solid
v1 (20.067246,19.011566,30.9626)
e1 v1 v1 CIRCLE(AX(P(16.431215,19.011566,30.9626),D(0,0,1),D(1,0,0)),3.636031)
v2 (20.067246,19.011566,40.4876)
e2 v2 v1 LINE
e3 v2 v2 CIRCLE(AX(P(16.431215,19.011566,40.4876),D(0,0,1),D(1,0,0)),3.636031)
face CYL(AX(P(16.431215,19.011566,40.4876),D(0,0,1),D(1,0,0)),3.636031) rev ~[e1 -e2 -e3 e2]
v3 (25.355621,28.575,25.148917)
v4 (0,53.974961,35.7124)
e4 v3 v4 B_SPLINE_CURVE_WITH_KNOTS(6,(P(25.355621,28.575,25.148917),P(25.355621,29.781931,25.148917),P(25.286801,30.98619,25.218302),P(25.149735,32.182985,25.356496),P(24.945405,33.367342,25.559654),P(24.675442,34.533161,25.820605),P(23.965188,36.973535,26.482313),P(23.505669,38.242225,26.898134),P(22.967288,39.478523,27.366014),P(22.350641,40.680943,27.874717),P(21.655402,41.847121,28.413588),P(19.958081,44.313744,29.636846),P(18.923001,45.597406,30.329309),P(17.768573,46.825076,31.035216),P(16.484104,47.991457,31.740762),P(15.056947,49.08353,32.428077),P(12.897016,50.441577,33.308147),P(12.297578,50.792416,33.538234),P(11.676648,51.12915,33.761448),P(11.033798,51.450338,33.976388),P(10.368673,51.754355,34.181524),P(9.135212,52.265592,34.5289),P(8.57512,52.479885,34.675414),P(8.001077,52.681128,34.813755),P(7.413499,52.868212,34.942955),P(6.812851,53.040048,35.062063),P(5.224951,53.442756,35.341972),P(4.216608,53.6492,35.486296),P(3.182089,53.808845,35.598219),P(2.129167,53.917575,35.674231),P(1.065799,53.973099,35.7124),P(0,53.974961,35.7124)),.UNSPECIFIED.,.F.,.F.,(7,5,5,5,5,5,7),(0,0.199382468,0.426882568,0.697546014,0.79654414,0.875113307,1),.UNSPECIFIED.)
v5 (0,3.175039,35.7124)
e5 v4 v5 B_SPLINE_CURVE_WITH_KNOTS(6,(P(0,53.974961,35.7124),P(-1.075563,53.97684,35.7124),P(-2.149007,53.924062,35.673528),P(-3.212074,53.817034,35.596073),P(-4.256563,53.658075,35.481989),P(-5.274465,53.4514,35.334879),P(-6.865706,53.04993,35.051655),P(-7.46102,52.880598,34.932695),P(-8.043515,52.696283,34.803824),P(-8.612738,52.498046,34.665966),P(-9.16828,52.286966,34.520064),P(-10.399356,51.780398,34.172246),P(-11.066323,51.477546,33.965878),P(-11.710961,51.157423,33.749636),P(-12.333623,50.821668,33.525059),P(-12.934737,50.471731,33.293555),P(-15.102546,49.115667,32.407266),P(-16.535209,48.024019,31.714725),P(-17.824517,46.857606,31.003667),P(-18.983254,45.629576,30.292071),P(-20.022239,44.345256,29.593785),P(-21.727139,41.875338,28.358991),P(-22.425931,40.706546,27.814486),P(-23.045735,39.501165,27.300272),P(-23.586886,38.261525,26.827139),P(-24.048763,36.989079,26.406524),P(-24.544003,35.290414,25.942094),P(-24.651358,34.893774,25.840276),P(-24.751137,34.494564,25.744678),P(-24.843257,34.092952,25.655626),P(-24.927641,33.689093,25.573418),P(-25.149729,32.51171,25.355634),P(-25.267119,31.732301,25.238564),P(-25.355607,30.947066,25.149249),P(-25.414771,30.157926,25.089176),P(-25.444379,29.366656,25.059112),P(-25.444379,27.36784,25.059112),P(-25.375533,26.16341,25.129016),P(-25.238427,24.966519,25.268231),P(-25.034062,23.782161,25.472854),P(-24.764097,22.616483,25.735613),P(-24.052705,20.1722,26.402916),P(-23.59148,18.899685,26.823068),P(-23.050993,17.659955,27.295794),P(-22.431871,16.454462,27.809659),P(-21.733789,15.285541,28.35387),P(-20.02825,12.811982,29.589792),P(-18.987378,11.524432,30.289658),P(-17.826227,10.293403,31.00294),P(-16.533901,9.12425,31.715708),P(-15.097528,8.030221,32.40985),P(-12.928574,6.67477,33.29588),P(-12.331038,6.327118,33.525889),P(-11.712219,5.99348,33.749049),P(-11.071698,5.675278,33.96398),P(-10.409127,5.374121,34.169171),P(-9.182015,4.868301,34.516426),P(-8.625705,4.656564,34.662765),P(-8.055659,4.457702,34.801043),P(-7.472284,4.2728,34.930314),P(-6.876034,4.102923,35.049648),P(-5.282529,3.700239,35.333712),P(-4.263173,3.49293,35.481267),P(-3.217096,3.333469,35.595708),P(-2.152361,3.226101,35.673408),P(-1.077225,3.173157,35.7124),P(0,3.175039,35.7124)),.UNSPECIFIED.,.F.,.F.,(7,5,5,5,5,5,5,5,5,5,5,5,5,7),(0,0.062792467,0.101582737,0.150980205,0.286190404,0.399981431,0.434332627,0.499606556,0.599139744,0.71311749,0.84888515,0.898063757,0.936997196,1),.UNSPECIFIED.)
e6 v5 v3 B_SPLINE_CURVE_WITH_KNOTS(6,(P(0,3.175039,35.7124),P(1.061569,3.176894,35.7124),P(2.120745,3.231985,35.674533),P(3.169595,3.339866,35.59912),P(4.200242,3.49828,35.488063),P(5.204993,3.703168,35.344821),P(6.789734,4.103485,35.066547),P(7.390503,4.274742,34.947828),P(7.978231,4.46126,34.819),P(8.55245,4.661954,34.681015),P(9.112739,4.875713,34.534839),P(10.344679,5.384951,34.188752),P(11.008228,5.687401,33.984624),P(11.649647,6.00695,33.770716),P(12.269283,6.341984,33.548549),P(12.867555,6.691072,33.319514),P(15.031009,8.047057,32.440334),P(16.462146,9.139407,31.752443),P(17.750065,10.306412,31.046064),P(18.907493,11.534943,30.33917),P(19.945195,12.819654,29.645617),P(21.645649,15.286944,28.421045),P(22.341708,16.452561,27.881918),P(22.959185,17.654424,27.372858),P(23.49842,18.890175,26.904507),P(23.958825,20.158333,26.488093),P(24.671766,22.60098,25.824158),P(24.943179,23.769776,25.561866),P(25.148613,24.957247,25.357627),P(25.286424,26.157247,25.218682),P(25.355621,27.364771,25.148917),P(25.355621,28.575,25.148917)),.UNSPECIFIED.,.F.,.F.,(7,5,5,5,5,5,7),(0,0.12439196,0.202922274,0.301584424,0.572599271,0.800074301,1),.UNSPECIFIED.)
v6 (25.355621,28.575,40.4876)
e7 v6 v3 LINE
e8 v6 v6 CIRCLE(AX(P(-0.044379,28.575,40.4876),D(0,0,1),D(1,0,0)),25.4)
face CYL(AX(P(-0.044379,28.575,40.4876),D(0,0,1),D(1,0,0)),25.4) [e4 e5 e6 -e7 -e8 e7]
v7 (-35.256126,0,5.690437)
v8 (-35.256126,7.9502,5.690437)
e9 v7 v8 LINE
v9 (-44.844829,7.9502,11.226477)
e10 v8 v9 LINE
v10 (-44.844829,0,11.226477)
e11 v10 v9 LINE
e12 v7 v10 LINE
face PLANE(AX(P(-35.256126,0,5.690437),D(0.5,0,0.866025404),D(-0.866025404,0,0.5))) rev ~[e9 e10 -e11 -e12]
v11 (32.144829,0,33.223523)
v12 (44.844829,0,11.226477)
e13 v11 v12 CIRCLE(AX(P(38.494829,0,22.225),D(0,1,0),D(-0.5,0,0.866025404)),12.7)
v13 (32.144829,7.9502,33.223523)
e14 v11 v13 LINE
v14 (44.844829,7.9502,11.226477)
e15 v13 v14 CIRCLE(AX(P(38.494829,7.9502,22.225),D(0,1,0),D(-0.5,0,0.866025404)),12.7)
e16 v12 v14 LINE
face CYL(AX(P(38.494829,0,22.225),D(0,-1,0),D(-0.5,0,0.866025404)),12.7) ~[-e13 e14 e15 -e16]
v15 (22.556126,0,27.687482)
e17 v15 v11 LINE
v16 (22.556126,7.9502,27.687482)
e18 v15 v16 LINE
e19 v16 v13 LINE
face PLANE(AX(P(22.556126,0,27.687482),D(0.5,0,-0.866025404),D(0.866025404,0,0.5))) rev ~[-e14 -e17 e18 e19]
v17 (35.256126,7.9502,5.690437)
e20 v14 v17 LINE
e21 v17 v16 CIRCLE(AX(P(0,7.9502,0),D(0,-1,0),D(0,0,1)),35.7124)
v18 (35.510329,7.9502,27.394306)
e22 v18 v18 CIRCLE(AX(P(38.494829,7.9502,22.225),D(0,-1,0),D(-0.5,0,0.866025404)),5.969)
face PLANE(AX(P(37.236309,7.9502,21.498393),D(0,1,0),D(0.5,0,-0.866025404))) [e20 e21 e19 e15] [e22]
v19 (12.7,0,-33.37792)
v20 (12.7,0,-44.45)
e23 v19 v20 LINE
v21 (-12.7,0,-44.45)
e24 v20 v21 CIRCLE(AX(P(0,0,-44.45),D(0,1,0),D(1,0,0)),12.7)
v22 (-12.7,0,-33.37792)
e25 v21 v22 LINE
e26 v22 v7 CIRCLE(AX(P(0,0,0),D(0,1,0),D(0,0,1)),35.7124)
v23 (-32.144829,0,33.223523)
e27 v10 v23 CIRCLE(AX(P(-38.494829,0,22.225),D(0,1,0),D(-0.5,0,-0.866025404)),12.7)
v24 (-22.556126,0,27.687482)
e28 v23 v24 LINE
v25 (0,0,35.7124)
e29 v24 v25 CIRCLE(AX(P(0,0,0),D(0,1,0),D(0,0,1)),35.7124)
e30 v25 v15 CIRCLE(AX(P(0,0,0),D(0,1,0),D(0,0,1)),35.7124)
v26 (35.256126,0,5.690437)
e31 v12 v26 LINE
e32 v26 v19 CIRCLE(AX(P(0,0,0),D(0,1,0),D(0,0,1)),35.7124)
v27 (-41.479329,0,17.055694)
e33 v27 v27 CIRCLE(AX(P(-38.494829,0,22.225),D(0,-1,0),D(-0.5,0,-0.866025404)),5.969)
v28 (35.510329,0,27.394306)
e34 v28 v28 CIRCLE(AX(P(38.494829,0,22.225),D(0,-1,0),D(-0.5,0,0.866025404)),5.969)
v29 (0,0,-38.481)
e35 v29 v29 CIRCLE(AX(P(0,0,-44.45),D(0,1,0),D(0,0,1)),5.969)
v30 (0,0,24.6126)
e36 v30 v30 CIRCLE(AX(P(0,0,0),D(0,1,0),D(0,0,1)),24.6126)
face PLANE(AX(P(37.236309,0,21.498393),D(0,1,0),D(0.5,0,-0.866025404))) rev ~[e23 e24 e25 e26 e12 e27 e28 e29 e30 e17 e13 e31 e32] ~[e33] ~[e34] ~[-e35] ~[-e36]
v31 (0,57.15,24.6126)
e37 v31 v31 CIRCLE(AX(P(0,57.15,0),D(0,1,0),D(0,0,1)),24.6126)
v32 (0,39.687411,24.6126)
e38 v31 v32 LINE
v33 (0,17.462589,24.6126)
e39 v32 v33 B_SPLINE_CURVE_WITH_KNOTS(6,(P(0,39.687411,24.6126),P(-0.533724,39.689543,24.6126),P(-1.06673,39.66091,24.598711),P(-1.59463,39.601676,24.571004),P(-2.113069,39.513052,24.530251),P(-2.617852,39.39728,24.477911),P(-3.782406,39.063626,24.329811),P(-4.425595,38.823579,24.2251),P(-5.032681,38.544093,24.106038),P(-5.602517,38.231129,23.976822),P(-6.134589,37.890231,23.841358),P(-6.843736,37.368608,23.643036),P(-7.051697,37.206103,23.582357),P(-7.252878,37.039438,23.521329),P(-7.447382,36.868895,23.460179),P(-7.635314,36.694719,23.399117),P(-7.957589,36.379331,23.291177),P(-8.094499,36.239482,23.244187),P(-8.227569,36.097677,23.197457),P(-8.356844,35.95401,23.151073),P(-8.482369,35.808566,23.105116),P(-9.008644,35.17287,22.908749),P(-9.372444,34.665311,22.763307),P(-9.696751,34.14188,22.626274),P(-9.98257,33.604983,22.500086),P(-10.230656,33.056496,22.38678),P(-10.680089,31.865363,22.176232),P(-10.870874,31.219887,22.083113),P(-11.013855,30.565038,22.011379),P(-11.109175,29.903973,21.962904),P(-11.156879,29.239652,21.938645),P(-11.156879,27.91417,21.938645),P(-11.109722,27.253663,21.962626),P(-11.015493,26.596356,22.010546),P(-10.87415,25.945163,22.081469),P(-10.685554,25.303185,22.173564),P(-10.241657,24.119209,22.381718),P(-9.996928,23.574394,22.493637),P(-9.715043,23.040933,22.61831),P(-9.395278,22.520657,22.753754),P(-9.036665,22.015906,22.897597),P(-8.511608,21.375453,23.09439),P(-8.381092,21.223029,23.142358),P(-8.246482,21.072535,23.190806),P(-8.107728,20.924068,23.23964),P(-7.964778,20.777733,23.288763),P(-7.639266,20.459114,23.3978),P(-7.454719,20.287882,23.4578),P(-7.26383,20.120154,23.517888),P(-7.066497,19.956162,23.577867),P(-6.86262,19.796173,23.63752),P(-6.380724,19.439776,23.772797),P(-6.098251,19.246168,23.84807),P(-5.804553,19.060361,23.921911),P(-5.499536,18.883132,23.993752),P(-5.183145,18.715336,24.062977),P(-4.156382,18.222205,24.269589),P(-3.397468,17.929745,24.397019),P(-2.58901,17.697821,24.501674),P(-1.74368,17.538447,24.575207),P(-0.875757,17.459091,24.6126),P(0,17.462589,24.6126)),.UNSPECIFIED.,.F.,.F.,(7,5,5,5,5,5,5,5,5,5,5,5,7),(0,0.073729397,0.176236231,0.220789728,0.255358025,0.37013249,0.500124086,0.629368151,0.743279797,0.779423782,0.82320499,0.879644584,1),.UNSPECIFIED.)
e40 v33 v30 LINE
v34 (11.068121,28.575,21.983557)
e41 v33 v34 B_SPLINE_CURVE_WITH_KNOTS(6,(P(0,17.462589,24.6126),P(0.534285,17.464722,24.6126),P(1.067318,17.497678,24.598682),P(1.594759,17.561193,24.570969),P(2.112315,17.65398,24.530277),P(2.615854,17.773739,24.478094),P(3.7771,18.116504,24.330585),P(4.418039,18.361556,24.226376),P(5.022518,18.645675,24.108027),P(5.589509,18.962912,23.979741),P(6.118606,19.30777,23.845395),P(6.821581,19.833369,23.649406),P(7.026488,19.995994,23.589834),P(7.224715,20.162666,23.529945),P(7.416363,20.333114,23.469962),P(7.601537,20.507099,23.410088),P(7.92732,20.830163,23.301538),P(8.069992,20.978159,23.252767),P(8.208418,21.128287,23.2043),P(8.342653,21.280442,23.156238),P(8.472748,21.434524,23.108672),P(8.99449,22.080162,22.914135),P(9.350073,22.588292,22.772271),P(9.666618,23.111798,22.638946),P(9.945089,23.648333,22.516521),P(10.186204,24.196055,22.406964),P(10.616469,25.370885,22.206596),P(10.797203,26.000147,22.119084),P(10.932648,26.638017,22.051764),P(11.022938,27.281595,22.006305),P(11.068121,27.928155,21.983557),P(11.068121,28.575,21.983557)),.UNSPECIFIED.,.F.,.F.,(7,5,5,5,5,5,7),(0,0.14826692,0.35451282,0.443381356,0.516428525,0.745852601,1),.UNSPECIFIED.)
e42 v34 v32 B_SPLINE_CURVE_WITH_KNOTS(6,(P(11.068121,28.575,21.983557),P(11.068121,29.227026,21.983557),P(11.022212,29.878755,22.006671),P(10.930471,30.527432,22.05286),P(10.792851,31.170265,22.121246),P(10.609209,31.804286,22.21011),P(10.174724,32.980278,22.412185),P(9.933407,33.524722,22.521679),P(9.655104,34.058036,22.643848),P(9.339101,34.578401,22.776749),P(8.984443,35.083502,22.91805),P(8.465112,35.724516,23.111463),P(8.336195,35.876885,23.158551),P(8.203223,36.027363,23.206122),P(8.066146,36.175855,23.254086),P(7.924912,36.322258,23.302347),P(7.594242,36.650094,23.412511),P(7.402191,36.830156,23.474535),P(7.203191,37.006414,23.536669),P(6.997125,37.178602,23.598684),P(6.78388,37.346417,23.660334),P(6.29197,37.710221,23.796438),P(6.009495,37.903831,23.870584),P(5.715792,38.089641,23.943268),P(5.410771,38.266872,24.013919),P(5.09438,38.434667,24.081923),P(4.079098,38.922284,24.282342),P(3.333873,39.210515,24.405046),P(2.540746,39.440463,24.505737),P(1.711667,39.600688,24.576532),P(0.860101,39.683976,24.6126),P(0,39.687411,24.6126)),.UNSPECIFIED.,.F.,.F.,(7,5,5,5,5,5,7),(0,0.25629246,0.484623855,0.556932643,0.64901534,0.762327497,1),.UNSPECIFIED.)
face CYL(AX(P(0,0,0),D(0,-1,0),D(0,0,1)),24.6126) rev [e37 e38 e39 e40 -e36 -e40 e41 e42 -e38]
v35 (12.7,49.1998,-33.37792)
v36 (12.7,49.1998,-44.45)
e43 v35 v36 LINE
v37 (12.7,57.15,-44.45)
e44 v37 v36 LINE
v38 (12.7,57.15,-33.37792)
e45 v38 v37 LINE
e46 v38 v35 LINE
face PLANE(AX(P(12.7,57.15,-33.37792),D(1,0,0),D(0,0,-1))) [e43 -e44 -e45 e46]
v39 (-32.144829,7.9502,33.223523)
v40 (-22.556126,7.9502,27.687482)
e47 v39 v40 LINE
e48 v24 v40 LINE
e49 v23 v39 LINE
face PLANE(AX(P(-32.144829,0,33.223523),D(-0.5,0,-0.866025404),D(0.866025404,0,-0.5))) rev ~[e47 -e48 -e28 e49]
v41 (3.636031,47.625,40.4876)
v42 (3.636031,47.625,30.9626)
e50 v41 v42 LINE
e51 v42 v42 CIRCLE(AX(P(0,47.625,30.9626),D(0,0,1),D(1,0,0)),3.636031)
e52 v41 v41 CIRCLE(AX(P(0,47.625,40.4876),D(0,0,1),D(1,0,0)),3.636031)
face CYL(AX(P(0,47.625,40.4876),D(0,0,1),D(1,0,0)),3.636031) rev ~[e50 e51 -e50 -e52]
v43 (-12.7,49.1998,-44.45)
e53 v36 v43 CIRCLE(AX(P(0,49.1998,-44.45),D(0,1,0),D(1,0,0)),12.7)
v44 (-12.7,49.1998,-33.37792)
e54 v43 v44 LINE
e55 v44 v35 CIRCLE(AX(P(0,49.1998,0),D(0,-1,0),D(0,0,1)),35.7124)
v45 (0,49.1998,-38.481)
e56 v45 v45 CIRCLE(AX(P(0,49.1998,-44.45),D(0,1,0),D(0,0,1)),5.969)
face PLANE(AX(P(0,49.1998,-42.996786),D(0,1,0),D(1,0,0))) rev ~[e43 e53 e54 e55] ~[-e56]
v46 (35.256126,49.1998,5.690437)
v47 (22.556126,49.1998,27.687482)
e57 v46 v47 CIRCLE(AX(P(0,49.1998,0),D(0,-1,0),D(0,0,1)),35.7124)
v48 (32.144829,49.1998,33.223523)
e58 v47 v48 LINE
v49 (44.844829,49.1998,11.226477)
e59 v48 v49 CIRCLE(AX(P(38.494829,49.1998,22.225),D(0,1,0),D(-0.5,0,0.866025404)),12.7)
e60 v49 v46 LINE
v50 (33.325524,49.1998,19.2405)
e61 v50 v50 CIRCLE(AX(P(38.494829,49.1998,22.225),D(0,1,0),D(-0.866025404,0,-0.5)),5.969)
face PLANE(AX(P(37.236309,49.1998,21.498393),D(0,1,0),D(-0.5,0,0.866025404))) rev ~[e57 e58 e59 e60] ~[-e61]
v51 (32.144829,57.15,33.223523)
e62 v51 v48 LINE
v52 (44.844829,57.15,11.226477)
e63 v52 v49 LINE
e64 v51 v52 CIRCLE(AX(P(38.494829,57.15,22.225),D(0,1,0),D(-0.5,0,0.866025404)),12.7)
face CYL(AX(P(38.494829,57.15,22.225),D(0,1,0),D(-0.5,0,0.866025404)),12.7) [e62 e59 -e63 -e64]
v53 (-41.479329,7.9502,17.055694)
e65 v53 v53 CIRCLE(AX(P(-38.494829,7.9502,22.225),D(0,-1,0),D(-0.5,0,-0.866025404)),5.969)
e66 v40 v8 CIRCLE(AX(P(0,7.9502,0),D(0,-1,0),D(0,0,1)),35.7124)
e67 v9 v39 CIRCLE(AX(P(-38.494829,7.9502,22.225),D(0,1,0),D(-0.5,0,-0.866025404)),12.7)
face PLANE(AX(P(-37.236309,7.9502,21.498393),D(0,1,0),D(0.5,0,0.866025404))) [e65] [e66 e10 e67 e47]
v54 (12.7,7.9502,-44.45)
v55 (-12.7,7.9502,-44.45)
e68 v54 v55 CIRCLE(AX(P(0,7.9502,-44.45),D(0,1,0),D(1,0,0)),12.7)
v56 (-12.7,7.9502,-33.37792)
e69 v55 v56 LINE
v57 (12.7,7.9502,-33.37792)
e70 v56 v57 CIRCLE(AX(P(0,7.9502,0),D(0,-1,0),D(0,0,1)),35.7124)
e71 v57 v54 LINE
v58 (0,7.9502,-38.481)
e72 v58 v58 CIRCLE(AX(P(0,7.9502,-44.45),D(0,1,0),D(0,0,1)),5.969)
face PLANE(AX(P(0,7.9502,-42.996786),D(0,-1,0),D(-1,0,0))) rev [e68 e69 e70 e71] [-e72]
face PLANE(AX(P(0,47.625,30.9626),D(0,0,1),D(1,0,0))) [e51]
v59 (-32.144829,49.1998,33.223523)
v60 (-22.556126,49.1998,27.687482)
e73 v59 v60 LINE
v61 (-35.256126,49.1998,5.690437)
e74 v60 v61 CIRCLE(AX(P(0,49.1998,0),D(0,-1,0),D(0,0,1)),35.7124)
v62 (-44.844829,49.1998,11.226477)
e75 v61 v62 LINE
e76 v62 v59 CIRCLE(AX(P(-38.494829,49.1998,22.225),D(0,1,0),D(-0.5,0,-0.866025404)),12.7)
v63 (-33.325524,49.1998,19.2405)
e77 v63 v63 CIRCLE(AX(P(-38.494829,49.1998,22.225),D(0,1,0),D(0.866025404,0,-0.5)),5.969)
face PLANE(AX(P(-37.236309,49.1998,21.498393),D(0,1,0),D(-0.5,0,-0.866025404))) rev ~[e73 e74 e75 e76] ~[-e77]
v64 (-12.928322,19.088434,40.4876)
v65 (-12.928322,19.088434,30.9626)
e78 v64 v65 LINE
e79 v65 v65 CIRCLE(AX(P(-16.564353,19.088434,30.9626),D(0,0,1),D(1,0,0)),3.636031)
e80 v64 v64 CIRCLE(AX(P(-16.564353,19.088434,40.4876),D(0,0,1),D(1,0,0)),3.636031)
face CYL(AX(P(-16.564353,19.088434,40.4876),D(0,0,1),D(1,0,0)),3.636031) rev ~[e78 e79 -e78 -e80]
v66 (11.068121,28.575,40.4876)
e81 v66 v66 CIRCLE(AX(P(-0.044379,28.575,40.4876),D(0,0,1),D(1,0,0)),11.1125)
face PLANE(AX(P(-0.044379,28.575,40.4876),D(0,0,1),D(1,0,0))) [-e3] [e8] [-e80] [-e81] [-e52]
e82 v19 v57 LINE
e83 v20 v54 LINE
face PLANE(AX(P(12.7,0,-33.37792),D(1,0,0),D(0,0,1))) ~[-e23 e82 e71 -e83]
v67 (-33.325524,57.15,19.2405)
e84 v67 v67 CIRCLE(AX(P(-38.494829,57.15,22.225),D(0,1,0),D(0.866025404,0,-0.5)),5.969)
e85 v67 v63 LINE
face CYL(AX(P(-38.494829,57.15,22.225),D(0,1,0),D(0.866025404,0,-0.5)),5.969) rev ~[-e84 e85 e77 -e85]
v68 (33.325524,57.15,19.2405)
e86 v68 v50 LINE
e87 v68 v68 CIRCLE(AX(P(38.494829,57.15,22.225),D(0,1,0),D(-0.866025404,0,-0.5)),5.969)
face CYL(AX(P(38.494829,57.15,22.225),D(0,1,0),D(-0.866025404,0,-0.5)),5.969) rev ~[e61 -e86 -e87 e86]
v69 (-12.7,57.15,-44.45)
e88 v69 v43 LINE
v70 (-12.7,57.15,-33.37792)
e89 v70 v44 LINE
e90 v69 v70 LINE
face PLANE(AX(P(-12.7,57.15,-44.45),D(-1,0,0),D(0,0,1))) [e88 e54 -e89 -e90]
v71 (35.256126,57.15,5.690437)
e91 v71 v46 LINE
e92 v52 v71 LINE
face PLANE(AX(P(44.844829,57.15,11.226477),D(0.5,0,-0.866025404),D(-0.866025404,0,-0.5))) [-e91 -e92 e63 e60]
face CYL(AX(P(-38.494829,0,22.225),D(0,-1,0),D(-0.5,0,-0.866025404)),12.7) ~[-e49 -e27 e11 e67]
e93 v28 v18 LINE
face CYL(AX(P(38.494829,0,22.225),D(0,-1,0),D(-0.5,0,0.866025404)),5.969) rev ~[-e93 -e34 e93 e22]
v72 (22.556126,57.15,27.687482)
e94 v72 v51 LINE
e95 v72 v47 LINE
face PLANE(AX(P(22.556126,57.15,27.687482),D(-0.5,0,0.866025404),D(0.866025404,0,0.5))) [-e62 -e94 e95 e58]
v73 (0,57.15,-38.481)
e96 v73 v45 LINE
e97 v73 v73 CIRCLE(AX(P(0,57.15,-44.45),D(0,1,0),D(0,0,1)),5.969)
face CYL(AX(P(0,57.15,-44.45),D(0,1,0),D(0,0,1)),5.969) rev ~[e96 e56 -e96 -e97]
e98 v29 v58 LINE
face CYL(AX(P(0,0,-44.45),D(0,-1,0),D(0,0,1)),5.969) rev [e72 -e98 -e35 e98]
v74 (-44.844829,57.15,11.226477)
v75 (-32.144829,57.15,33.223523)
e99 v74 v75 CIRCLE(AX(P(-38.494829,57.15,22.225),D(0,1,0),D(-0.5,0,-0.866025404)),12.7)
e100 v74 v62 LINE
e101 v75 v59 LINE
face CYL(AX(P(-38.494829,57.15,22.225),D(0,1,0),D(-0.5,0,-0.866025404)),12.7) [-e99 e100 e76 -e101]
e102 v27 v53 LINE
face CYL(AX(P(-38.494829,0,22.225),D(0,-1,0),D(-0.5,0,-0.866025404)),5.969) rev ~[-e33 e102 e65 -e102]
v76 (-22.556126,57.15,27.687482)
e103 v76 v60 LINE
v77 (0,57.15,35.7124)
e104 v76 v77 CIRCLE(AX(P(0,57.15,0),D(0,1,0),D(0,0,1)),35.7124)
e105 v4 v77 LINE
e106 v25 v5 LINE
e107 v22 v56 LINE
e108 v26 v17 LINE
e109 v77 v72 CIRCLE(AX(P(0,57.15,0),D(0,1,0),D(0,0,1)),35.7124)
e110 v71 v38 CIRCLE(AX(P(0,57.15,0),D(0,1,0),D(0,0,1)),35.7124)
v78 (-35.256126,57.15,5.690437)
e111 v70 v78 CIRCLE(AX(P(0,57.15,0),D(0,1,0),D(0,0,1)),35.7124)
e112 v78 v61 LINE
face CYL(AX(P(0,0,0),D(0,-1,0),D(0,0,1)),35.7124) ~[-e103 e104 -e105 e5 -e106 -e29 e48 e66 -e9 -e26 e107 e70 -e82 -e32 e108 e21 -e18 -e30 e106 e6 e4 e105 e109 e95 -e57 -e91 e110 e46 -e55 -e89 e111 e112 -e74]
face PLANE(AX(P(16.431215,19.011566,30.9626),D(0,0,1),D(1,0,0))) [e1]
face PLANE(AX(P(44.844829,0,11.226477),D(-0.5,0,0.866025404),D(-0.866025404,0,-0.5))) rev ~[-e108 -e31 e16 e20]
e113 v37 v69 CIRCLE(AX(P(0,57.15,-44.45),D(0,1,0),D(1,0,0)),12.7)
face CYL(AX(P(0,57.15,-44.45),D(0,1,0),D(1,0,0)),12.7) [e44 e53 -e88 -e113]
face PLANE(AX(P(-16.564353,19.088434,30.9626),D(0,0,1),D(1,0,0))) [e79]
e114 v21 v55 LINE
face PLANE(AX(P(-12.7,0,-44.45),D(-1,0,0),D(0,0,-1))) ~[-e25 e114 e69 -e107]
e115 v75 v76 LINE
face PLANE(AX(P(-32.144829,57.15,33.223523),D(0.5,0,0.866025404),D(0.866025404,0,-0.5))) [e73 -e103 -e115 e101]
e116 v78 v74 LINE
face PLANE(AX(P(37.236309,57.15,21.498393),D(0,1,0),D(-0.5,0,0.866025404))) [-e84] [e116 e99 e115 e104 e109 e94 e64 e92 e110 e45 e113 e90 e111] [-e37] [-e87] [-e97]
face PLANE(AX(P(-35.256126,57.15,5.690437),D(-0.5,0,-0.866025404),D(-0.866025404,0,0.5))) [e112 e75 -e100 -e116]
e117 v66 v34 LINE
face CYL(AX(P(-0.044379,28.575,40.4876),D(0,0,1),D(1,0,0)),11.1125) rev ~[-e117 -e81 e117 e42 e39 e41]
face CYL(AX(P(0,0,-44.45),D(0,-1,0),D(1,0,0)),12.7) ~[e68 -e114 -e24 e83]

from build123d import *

# Parameters (mm, degrees)
SKETCH1_R               = 35.7124
SKETCH1_R_2             = 24.6126
BOSS_EXTRUDE1_DEPTH     = 57.15
SKETCH2_R               = 5.969
BOSS_EXTRUDE2_DEPTH     = 7.9502
CIRPATTERN1_COUNT       = 3
MIRROR1_COPY_1_SKETCH_R = 5.969
MIRROR1_COPY_1_DEPTH    = 7.9502
MIRROR1_COPY_2_SKETCH_R = 5.969
MIRROR1_COPY_2_DEPTH    = 7.9502
SKETCH3_R               = 25.4
BOSS_EXTRUDE3_DEPTH     = 19.05
CUT_EXTRUDE1_START      = -57.15
SKETCH4_R               = 24.6126
CUT_EXTRUDE1_DEPTH      = 57.15
SKETCH6_R               = 11.1125
CUT_EXTRUDE2_DEPTH      = 57.15
SKETCH7_R               = 3.636030774
CUT_EXTRUDE3_DEPTH      = 9.525


with BuildPart() as part:
    # Sketch1 → Boss-Extrude1 (new body)
    with BuildSketch(Plane(origin=(0, 0, 0), x_dir=(1, 0, 0), z_dir=(0, 1, 0))):
        with Locations(Location((0, 0, 0), (0, 0, 270))):
            Circle(SKETCH1_R)
        with Locations(Location((0, 0, 0), (0, 0, 270))):
            Circle(SKETCH1_R_2, mode=Mode.SUBTRACT)
    extrude(amount=BOSS_EXTRUDE1_DEPTH)

    # Sketch2 → Boss-Extrude2 (add)
    with BuildSketch(Plane(origin=(0, 57.15, 0), x_dir=(1, 0, 0), z_dir=(0, 1, 0))):
        with BuildLine():
            Line((-12.7, 44.45), (-12.7, 33.377919554))
            Line((-12.7, 33.377919554), (12.7, 33.377919554))
            Line((12.7, 33.377919554), (12.7, 44.45))
            ThreePointArc((12.7, 44.45), (0, 57.15), (-12.7, 44.45))
        make_face()
        with Locations(Location((0, 44.45, 0), (0, 0, 270))):
            Circle(SKETCH2_R, mode=Mode.SUBTRACT)
    boss_extrude2 = extrude(amount=-BOSS_EXTRUDE2_DEPTH)

    # CirPattern1: Boss-Extrude2 ×3 about axis
    cirpattern1_axis = Axis((0, 0, 0), (0, 1, 0))
    for i in range(1, CIRPATTERN1_COUNT):
        add(boss_extrude2.rotate(cirpattern1_axis, i * 360 / CIRPATTERN1_COUNT))

    # Mirror1: Boss-Extrude2 across plane
    add(boss_extrude2.mirror(Plane.ZX.offset(28.575)))

    # Mirror1 copy 1 sketch → Mirror1 copy 1 (add)
    with BuildSketch(Plane(origin=(0, 0, 0), x_dir=(-0.4999999999999998, 0, -0.8660254037844387), z_dir=(0, -1, 0))):
        with BuildLine():
            Line((-12.7, -44.45), (-12.7, -33.377919554))
            Line((-12.7, -33.377919554), (12.7, -33.377919554))
            Line((12.7, -33.377919554), (12.7, -44.45))
            ThreePointArc((12.7, -44.45), (0, -57.15), (-12.7, -44.45))
        make_face()
        with Locations((0, -44.45)):
            Circle(MIRROR1_COPY_1_SKETCH_R, mode=Mode.SUBTRACT)
    extrude(amount=-MIRROR1_COPY_1_DEPTH)

    # Mirror1 copy 2 sketch → Mirror1 copy 2 (add)
    with BuildSketch(Plane(origin=(0, 0, 0), x_dir=(-0.5000000000000004, 0, 0.8660254037844384), z_dir=(0, -1, 0))):
        with BuildLine():
            Line((-12.7, -44.45), (-12.7, -33.377919554))
            Line((-12.7, -33.377919554), (12.7, -33.377919554))
            Line((12.7, -33.377919554), (12.7, -44.45))
            ThreePointArc((12.7, -44.45), (0, -57.15), (-12.7, -44.45))
        make_face()
        with Locations((0, -44.45)):
            Circle(MIRROR1_COPY_2_SKETCH_R, mode=Mode.SUBTRACT)
    extrude(amount=-MIRROR1_COPY_2_DEPTH)

    # Sketch3 → Boss-Extrude3 (add)
    with BuildSketch(Plane.XY.offset(40.4876)):
        with Locations((-0.044379285, 28.575)):
            Circle(SKETCH3_R)
    extrude(amount=-BOSS_EXTRUDE3_DEPTH)

    # Sketch4 → Cut-Extrude1 (cut)
    with BuildSketch(Plane(origin=(0, 57.15, 0), x_dir=(1, 0, 0), z_dir=(0, 1, 0)).offset(CUT_EXTRUDE1_START)):
        with Locations(Location((0, 0, 0), (0, 0, 270))):
            Circle(SKETCH4_R)
    extrude(amount=CUT_EXTRUDE1_DEPTH, mode=Mode.SUBTRACT)

    # Sketch6 → Cut-Extrude2 (cut)
    with BuildSketch(Plane.XY.offset(40.4876)):
        with Locations((-0.044379285, 28.575)):
            Circle(SKETCH6_R)
    extrude(amount=-CUT_EXTRUDE2_DEPTH, mode=Mode.SUBTRACT)

    # Sketch7 → Cut-Extrude3 (cut)
    with BuildSketch(Plane.XY.offset(40.4876)):
        with Locations((0, 47.625)):
            Circle(SKETCH7_R)
        with Locations((16.431215014, 19.011566412)):
            Circle(SKETCH7_R)
        with Locations((-16.56435287, 19.088433588)):
            Circle(SKETCH7_R)
    extrude(amount=-CUT_EXTRUDE3_DEPTH, mode=Mode.SUBTRACT)


solid = part.part
